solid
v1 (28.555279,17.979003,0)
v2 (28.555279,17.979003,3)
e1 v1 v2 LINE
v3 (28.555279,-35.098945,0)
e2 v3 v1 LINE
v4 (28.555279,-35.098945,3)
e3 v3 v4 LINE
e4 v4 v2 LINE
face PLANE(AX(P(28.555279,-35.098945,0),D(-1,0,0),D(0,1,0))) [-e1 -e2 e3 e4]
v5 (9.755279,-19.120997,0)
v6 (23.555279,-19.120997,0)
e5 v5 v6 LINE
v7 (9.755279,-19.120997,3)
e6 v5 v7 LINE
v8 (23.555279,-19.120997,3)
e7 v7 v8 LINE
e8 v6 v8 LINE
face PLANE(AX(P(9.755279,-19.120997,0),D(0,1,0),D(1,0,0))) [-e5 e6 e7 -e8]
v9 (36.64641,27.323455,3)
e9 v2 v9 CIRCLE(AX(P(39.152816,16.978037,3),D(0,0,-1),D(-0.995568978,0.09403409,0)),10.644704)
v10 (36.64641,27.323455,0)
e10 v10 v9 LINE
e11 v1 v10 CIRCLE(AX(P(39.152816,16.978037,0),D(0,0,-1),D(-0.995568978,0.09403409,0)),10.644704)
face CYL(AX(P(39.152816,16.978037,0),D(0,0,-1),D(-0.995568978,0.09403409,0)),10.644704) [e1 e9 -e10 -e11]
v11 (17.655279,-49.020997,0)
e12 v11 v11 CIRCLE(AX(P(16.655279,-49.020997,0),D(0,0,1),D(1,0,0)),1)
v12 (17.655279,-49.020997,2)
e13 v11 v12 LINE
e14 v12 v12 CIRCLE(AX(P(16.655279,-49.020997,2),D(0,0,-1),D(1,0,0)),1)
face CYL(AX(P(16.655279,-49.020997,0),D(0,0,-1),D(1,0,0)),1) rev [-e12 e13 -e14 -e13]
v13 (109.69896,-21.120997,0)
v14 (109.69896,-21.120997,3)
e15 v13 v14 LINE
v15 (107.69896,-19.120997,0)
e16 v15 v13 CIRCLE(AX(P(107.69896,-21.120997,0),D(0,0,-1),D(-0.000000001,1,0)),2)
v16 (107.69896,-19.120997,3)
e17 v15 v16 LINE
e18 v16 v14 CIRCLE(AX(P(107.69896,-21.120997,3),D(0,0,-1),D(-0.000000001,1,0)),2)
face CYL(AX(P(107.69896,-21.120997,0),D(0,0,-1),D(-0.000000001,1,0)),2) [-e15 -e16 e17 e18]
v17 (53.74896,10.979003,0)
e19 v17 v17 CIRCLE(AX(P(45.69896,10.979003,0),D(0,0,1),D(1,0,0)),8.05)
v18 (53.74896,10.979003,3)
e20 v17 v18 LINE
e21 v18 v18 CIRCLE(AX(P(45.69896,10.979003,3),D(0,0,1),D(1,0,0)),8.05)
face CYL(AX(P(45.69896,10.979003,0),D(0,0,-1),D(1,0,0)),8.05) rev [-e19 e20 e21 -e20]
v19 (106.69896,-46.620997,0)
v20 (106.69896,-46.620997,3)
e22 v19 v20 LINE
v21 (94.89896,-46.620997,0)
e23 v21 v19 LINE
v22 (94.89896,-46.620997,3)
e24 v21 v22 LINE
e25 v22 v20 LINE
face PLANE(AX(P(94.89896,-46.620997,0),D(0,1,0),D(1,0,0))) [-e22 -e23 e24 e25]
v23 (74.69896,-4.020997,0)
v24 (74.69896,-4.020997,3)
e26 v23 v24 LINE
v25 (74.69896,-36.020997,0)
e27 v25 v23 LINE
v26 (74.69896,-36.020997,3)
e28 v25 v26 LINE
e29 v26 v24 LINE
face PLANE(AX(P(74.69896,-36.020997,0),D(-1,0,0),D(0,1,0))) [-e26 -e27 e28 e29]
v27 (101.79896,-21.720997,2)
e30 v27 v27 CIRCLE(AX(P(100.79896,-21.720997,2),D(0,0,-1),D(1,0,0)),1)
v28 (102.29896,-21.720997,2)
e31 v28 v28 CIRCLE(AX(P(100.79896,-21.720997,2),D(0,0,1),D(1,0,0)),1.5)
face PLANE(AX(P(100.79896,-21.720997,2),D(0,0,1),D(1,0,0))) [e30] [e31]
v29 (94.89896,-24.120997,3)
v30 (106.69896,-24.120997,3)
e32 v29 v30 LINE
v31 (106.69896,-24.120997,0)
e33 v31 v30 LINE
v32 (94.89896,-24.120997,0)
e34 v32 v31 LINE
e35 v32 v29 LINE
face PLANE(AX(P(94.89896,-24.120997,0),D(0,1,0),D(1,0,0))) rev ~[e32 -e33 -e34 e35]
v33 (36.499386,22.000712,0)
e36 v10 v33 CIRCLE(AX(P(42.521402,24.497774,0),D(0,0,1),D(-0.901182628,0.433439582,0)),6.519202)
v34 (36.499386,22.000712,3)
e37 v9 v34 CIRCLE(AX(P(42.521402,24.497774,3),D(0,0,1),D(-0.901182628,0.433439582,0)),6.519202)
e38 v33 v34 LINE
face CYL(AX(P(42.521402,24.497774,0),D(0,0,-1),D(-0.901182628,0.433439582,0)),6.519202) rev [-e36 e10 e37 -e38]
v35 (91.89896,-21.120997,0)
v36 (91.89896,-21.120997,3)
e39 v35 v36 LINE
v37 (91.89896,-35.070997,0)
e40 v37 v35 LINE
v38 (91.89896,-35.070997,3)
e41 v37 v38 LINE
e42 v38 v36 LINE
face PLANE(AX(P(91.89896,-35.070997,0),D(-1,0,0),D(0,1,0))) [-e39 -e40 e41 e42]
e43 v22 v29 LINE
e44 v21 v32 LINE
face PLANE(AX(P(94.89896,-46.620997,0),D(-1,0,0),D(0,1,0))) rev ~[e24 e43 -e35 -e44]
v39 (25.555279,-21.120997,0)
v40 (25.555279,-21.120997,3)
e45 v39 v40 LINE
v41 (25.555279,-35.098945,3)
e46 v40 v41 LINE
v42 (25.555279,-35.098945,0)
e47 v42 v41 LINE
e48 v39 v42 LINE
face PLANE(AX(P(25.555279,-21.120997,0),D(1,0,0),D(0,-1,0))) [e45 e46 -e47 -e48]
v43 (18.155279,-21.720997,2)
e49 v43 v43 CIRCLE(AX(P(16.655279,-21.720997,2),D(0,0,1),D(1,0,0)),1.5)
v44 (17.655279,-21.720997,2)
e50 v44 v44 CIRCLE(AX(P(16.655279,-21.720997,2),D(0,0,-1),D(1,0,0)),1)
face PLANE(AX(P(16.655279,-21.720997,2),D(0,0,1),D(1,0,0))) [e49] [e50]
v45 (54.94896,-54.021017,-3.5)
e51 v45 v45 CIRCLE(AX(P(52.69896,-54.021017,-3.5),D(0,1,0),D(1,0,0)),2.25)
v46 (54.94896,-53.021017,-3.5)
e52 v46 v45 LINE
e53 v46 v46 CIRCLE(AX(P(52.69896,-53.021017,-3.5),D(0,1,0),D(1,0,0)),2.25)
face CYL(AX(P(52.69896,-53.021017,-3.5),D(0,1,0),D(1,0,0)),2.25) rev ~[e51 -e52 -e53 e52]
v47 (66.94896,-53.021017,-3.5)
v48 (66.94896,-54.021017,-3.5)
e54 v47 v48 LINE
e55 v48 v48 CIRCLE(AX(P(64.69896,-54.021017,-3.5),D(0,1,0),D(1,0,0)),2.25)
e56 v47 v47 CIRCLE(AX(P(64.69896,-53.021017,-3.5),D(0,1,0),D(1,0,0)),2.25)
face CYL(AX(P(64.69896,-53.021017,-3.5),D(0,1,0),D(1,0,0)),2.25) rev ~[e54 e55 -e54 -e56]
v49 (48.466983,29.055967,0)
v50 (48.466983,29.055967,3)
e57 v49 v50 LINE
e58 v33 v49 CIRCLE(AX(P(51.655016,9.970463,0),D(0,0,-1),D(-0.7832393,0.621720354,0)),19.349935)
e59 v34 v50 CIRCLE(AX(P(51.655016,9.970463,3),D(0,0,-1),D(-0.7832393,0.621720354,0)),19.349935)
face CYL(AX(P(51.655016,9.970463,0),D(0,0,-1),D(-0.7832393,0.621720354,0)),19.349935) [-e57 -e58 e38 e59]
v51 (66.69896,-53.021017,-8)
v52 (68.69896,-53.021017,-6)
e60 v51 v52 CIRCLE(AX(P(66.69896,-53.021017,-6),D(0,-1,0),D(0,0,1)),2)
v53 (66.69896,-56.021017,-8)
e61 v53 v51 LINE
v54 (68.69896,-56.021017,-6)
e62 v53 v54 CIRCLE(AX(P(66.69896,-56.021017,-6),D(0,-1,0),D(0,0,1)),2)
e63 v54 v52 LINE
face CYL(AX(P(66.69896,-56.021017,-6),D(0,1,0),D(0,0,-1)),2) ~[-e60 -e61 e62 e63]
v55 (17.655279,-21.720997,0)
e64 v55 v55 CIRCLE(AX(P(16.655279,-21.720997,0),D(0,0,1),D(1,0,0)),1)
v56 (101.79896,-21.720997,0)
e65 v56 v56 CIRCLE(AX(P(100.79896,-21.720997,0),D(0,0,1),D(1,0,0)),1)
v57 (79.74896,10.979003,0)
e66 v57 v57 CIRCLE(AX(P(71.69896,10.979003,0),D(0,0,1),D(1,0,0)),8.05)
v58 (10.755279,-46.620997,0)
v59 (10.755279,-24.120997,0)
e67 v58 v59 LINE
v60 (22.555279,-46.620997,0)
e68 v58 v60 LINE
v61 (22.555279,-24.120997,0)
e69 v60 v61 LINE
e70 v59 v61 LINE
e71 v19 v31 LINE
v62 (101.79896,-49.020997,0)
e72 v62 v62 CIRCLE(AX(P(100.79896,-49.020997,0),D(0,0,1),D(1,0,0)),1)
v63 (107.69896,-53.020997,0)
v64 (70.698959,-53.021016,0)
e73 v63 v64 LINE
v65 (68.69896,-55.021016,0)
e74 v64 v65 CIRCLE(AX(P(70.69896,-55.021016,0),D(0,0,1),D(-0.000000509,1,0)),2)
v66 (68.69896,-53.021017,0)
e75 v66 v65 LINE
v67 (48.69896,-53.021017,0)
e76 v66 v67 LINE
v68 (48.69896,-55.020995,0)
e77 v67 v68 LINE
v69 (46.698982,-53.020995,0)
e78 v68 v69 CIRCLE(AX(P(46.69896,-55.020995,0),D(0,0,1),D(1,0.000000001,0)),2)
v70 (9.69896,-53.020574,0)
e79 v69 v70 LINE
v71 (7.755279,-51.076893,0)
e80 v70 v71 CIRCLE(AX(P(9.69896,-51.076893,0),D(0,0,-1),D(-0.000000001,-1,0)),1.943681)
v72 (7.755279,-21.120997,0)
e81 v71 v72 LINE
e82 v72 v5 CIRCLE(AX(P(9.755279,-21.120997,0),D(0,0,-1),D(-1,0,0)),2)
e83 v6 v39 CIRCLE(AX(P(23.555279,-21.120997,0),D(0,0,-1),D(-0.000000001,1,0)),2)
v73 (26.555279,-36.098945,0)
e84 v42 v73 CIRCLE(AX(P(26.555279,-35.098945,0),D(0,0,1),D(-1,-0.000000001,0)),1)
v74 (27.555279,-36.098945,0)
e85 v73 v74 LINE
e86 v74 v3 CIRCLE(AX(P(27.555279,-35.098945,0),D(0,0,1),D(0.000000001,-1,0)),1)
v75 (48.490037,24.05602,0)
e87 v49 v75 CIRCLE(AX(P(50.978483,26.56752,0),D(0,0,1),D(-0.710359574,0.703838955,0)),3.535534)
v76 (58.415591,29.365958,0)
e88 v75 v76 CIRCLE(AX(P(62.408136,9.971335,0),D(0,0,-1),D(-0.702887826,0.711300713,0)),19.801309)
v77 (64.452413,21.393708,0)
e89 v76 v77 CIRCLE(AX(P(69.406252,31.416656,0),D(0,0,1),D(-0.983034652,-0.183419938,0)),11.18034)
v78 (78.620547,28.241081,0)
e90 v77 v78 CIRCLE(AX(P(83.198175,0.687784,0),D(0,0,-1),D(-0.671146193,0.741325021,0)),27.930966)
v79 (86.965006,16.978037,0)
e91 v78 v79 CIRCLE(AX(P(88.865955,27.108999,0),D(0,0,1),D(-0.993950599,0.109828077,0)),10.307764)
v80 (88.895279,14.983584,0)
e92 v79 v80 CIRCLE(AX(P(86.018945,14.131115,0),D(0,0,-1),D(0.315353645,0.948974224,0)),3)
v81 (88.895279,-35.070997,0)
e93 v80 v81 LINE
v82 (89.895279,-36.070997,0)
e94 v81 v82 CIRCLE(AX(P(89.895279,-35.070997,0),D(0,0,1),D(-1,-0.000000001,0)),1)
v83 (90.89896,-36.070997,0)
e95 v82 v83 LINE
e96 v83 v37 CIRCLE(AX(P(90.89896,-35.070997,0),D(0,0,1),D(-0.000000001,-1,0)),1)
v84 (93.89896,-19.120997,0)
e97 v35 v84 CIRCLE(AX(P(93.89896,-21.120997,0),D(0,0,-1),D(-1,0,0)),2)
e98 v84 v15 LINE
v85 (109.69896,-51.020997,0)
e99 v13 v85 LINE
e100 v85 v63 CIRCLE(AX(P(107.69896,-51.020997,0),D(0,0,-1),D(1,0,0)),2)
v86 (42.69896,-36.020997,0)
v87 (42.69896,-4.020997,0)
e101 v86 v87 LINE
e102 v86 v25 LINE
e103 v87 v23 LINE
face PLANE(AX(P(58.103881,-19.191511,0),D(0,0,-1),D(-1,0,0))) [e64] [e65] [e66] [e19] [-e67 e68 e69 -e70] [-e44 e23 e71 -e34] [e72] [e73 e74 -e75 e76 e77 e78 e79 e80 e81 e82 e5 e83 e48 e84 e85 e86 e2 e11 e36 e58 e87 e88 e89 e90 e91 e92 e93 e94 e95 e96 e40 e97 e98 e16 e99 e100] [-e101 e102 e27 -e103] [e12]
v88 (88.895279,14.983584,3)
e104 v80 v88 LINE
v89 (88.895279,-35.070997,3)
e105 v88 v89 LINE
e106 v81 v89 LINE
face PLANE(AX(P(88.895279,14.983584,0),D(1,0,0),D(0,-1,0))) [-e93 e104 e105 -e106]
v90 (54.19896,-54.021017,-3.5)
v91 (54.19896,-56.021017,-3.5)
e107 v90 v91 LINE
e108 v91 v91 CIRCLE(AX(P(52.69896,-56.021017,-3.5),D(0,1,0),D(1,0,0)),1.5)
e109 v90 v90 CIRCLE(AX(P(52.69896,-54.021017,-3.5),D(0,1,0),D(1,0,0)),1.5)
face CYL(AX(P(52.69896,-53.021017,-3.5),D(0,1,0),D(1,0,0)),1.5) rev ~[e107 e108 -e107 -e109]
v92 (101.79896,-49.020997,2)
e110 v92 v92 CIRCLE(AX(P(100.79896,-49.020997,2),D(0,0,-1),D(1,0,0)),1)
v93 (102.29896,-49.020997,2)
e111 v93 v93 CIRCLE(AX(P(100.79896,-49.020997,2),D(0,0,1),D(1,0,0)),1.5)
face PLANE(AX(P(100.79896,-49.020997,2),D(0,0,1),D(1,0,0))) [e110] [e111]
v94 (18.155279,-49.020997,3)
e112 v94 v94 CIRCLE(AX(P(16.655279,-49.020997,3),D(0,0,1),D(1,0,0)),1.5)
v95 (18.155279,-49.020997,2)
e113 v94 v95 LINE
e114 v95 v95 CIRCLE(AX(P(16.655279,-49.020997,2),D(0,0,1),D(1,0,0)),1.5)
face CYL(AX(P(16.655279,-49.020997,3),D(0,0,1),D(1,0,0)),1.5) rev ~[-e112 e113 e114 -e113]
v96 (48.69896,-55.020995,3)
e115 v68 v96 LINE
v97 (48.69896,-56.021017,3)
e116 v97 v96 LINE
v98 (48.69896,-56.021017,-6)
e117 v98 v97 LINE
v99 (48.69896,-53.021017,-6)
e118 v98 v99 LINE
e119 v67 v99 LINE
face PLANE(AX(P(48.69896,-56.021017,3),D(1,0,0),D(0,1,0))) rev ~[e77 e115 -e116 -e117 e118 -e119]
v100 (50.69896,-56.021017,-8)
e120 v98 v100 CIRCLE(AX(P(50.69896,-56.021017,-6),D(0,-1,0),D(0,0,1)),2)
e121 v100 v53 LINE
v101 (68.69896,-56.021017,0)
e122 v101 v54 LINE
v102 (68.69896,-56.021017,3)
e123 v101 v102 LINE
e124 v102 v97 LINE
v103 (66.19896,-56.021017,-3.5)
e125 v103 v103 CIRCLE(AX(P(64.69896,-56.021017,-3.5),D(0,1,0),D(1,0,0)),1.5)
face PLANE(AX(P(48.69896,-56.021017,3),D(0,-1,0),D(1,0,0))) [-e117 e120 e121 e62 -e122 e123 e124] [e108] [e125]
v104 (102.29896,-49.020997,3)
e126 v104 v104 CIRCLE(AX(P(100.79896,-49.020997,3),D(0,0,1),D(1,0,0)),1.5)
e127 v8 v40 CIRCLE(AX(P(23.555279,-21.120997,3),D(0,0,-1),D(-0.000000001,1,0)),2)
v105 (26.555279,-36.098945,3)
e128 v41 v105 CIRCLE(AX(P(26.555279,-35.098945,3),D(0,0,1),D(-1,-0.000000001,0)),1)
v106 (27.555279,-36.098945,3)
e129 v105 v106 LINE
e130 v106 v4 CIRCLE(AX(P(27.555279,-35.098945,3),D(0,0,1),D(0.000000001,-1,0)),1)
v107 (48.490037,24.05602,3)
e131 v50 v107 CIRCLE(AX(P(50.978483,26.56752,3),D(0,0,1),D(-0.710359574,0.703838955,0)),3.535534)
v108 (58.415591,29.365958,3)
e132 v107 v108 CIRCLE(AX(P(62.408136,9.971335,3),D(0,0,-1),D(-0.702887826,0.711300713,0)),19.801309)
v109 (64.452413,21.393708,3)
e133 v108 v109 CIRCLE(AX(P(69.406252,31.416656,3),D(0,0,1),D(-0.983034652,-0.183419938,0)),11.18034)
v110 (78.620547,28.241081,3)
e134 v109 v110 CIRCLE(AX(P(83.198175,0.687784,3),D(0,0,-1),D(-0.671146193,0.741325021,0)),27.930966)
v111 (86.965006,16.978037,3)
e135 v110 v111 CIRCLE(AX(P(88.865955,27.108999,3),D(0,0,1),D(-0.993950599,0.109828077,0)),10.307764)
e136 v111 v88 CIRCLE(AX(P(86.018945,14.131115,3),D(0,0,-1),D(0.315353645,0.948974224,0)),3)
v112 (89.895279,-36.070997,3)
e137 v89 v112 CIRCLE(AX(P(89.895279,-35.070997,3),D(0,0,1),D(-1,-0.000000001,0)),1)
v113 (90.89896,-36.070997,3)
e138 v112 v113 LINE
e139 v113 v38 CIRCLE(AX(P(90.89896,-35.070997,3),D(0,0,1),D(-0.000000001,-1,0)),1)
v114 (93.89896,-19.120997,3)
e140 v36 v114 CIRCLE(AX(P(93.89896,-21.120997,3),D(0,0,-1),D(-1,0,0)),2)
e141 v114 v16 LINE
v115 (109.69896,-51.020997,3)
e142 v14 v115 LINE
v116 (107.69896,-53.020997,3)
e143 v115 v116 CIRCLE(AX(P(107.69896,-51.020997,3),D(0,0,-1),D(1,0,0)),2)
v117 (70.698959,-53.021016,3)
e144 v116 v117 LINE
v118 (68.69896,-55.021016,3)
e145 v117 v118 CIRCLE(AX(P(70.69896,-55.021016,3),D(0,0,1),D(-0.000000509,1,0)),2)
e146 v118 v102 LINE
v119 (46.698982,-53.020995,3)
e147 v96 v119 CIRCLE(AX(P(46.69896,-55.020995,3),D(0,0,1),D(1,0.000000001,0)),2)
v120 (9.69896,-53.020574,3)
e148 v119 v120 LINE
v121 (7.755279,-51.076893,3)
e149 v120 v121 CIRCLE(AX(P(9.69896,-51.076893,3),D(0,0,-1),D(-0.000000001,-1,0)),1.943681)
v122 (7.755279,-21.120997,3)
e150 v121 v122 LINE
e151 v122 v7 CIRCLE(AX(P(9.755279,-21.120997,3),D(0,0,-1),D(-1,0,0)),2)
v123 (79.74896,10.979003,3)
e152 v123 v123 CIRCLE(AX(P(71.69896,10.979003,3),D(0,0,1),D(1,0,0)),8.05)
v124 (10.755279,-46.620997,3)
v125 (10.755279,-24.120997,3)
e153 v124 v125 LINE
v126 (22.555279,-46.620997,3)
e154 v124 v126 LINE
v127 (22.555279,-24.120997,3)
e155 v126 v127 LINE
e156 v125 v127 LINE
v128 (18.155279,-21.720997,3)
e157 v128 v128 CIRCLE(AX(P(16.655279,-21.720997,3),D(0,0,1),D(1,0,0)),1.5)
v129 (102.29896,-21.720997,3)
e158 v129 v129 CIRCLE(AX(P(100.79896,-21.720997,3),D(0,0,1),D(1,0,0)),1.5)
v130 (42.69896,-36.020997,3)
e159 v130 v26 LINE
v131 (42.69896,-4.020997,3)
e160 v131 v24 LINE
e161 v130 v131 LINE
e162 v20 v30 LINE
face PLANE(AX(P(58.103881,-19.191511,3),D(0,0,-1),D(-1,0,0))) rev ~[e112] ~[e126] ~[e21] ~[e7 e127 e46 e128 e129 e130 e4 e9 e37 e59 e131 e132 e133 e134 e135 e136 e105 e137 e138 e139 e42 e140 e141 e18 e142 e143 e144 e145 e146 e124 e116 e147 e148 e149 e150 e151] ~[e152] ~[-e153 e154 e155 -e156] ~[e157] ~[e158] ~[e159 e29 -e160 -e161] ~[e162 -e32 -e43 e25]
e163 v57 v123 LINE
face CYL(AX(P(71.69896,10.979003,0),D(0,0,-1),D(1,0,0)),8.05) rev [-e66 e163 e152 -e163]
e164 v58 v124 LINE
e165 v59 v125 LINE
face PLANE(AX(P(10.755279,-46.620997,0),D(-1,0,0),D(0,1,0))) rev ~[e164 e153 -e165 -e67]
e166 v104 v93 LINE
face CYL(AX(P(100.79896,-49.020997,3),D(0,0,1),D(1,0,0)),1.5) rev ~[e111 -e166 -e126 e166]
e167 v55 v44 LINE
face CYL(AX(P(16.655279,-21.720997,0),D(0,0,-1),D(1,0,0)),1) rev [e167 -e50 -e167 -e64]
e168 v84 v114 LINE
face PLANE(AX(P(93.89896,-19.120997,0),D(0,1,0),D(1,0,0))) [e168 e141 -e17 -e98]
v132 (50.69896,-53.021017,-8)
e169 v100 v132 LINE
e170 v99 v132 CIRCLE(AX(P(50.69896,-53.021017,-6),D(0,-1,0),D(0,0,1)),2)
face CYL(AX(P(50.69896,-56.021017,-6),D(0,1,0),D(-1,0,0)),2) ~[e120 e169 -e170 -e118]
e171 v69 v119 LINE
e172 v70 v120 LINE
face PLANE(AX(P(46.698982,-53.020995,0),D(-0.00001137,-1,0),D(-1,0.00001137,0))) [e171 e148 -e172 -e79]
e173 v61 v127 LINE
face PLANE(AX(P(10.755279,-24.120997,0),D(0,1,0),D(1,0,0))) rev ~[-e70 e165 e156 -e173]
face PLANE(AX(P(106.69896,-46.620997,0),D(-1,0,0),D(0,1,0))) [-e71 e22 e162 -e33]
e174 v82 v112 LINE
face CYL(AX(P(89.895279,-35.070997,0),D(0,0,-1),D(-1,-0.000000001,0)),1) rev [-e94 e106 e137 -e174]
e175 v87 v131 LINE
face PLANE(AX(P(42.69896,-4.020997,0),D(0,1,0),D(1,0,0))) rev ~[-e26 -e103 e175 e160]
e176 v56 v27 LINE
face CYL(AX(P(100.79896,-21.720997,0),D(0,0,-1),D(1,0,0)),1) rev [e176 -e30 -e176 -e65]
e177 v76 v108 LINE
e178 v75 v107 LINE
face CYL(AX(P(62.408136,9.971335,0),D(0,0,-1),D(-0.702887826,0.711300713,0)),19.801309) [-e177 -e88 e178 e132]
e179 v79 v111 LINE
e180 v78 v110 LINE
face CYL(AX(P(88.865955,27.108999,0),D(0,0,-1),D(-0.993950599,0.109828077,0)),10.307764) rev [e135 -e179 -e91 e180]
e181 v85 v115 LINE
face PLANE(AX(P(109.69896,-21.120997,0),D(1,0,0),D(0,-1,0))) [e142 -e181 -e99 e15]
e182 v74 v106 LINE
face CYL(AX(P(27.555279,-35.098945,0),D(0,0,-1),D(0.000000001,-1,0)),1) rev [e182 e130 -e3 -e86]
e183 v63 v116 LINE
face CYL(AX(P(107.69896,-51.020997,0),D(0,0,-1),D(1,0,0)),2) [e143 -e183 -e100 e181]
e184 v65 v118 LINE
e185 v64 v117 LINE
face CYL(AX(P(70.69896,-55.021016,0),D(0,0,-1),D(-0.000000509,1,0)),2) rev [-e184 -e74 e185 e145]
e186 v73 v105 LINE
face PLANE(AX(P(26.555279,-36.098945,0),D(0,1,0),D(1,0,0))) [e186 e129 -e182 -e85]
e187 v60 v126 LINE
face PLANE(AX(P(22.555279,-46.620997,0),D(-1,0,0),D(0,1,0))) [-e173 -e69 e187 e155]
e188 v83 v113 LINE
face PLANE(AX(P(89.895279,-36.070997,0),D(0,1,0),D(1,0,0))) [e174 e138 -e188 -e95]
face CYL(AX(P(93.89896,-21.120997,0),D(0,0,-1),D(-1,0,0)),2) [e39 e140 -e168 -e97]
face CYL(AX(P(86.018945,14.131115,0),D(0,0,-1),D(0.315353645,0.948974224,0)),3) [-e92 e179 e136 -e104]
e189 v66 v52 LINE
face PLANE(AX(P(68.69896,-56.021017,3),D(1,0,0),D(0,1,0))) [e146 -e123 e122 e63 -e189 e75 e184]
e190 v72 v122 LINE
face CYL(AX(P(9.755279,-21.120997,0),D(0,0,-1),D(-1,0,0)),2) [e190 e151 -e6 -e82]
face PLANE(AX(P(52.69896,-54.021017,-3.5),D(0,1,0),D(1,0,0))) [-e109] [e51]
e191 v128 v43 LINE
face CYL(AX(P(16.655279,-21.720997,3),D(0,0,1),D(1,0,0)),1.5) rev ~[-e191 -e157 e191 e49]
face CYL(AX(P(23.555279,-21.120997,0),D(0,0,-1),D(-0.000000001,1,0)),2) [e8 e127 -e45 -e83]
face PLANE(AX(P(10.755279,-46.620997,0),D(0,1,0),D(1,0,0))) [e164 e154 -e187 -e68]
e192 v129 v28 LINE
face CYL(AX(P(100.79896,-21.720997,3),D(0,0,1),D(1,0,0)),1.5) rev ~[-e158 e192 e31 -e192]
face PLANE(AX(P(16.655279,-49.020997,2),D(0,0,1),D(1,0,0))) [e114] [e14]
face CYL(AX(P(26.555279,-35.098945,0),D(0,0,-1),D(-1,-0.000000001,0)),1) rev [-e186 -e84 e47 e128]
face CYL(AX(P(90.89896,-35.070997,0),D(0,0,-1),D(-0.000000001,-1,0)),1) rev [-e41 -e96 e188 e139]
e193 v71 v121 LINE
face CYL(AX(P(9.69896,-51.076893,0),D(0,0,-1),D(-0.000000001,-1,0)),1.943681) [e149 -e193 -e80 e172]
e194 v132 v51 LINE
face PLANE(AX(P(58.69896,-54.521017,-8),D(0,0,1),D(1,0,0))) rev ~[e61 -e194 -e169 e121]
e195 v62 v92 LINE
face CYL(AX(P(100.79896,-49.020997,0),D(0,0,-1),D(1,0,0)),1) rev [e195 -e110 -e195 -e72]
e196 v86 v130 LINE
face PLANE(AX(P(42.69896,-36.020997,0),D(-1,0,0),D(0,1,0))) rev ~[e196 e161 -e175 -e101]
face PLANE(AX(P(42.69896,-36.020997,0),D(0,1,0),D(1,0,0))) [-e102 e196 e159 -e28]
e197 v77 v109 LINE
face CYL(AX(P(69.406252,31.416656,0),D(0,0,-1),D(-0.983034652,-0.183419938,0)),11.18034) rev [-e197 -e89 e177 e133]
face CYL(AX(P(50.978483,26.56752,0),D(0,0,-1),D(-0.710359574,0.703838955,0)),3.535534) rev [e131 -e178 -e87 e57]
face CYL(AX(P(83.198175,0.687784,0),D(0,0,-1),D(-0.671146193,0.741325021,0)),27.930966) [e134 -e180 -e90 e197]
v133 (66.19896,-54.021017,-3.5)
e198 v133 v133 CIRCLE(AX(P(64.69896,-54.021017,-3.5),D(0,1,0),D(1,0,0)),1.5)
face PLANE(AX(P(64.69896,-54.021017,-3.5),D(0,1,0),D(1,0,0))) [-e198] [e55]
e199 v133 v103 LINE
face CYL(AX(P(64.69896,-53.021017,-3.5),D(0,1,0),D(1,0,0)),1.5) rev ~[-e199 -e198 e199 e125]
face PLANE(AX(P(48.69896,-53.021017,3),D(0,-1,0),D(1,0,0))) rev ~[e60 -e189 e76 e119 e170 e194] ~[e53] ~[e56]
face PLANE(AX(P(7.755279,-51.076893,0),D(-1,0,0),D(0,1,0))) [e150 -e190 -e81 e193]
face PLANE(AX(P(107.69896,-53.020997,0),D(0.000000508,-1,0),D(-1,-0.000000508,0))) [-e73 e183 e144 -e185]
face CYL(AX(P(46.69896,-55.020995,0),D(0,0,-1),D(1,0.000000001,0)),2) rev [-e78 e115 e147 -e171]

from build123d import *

# Parameters (mm, degrees)
MODEL_R                 = 8.05
MODEL_R_2               = 1
MODEL_W                 = 32
MODEL_H                 = 32
MODEL_W_2               = 11.8
MODEL_H_2               = 22.5
SALIENTE_EXTRUIR1_DEPTH = 3
CROQUIS2_W              = 19.999999999
CROQUIS2_H              = 3
SALIENTE_EXTRUIR2_DEPTH = 11
CROQUIS3_R              = 1.5
CORTAR_EXTRUIR1_DEPTH   = 3
REDONDEO1_R             = 2
CROQUIS4_R              = 2.25
CORTAR_EXTRUIR2_DEPTH   = 1
CROQUIS6_R              = 1.5
CORTAR_EXTRUIR4_DEPTH   = 1


with BuildPart() as part:
    # Model → Saliente-Extruir1 (new body)
    with BuildSketch(Plane.XY):
        with BuildLine():
            Line((68.698959582, -55.021016271), (68.698959582, -56.021017288))
            Line((68.698959582, -56.021017288), (48.698959583, -56.021017288))
            Line((48.698959583, -56.021017288), (48.698959583, -55.020994548))
            ThreePointArc((48.698959583, -55.020994548), (48.113181185, -53.606789026), (46.698982323, -53.020994548))
            Line((46.698982323, -53.020994548), (9.698959583, -53.020573857))
            ThreePointArc((9.698959583, -53.020573857), (8.324569809, -52.451282972), (7.755278924, -51.076893199))
            Line((7.755278924, -51.076893199), (7.755278924, -21.120997464))
            ThreePointArc((7.755278924, -21.120997464), (8.341065362, -19.706783901), (9.755278924, -19.120997464))
            Line((9.755278924, -19.120997464), (23.555278924, -19.120997464))
            ThreePointArc((23.555278924, -19.120997464), (24.969492487, -19.706783901), (25.555278924, -21.120997464))
            Line((25.555278924, -21.120997464), (25.555278924, -35.098945331))
            ThreePointArc((25.555278924, -35.098945331), (25.848172143, -35.806052112), (26.555278924, -36.098945331))
            Line((26.555278924, -36.098945331), (27.555278924, -36.098945331))
            ThreePointArc((27.555278924, -36.098945331), (28.262385705, -35.806052112), (28.555278924, -35.098945331))
            Line((28.555278924, -35.098945331), (28.555278924, 17.979002536))
            ThreePointArc((28.555278924, 17.979002536), (31.105578849, 23.945942388), (36.646410135, 27.323454721))
            ThreePointArc((36.646410135, 27.323454721), (36.00468524, 24.677778482), (36.499385848, 22.000712008))
            ThreePointArc((36.499385848, 22.000712008), (41.828182769, 26.639397126), (48.466982875, 29.055966887))
            ThreePointArc((48.466982875, 29.055966887), (47.442986911, 26.551218848), (48.490036744, 24.056020035))
            ThreePointArc((48.490036744, 24.056020035), (53.067544133, 27.431151144), (58.41559095, 29.365958406))
            ThreePointArc((58.41559095, 29.365958406), (60.493005652, 24.667283017), (64.452413363, 21.393708086))
            ThreePointArc((64.452413363, 21.393708086), (71.044296854, 25.835788254), (78.620547187, 28.241081393))
            ThreePointArc((78.620547187, 28.241081393), (80.583592254, 20.972839466), (86.965006165, 16.978037452))
            ThreePointArc((86.965006165, 16.978037452), (88.174666897, 16.217466641), (88.895278924, 14.983584414))
            Line((88.895278924, 14.983584414), (88.895278924, -35.070997464))
            ThreePointArc((88.895278924, -35.070997464), (89.188172143, -35.778104245), (89.895278924, -36.070997464))
            Line((89.895278924, -36.070997464), (90.898959582, -36.070997464))
            ThreePointArc((90.898959582, -36.070997464), (91.606066364, -35.778104245), (91.898959582, -35.070997464))
            Line((91.898959582, -35.070997464), (91.898959582, -21.120997464))
            ThreePointArc((91.898959582, -21.120997464), (92.48474602, -19.706783901), (93.898959582, -19.120997464))
            Line((93.898959582, -19.120997464), (107.698959583, -19.120997464))
            ThreePointArc((107.698959583, -19.120997464), (109.113173145, -19.706783901), (109.698959582, -21.120997464))
            Line((109.698959582, -21.120997464), (109.698959582, -51.020997464))
            ThreePointArc((109.698959582, -51.020997464), (109.113173145, -52.435211026), (107.698959583, -53.020997464))
            Line((107.698959583, -53.020997464), (70.698958566, -53.021016271))
            ThreePointArc((70.698958566, -53.021016271), (69.284745661, -53.606803068), (68.698959582, -55.021016271))
        make_face()
        with Locations((71.698959582, 10.979002536)):
            Circle(MODEL_R, mode=Mode.SUBTRACT)
        with Locations((45.698959583, 10.979002536)):
            Circle(MODEL_R, mode=Mode.SUBTRACT)
        with Locations((100.798959583, -21.720997464)):
            Circle(MODEL_R_2, mode=Mode.SUBTRACT)
        with Locations((100.798959583, -49.020997464)):
            Circle(MODEL_R_2, mode=Mode.SUBTRACT)
        with Locations((16.655278924, -49.020997464)):
            Circle(MODEL_R_2, mode=Mode.SUBTRACT)
        with Locations((16.655278924, -21.720997464)):
            Circle(MODEL_R_2, mode=Mode.SUBTRACT)
        with Locations((58.698959582, -20.020997464)):
            Rectangle(MODEL_W, MODEL_H, mode=Mode.SUBTRACT)
        with Locations((100.798959582, -35.370997464)):
            Rectangle(MODEL_W_2, MODEL_H_2, mode=Mode.SUBTRACT)
        with Locations((16.655278924, -35.370997464)):
            Rectangle(MODEL_W_2, MODEL_H_2, mode=Mode.SUBTRACT)
    extrude(amount=SALIENTE_EXTRUIR1_DEPTH)

    # Croquis2 → Saliente-Extruir2 (add)
    with BuildSketch(Plane.XY.offset(3)):
        with Locations((58.698959583, -54.521017288)):
            Rectangle(CROQUIS2_W, CROQUIS2_H)
    extrude(amount=-SALIENTE_EXTRUIR2_DEPTH)

    # Croquis3 → Cortar-Extruir1 (cut)
    with BuildSketch(Plane(origin=(0, -53.021017288, 0), x_dir=(1, 0, 0), z_dir=(0, 1, 0))):
        with Locations((52.698959583, 3.5)):
            Circle(CROQUIS3_R)
        with Locations((64.698959583, 3.5)):
            Circle(CROQUIS3_R)
    extrude(amount=-CORTAR_EXTRUIR1_DEPTH, mode=Mode.SUBTRACT)

    # Redondeo1
    redondeo1_edges = [part.edges().sort_by_distance(p)[0] for p in [
        (48.698959583, -54.521017288, -8),
        (68.698959582, -54.521017288, -8),
    ]]
    fillet(redondeo1_edges, radius=REDONDEO1_R)

    # Croquis4 → Cortar-Extruir2 (cut)
    with BuildSketch(Plane(origin=(0, -53.021017288, 0), x_dir=(1, 0, 0), z_dir=(0, 1, 0))):
        with Locations((52.698959583, 3.5)):
            Circle(CROQUIS4_R)
        with Locations((64.698959583, 3.5)):
            Circle(CROQUIS4_R)
    extrude(amount=-CORTAR_EXTRUIR2_DEPTH, mode=Mode.SUBTRACT)

    # Croquis6 → Cortar-Extruir4 (cut)
    with BuildSketch(Plane.XY.offset(3)):
        with Locations((16.655278924, -21.720997464)):
            Circle(CROQUIS6_R)
        with Locations((16.655278924, -49.020997464)):
            Circle(CROQUIS6_R)
        with Locations((100.798959583, -49.020997464)):
            Circle(CROQUIS6_R)
        with Locations((100.798959583, -21.720997464)):
            Circle(CROQUIS6_R)
    extrude(amount=-CORTAR_EXTRUIR4_DEPTH, mode=Mode.SUBTRACT)


solid = part.part
